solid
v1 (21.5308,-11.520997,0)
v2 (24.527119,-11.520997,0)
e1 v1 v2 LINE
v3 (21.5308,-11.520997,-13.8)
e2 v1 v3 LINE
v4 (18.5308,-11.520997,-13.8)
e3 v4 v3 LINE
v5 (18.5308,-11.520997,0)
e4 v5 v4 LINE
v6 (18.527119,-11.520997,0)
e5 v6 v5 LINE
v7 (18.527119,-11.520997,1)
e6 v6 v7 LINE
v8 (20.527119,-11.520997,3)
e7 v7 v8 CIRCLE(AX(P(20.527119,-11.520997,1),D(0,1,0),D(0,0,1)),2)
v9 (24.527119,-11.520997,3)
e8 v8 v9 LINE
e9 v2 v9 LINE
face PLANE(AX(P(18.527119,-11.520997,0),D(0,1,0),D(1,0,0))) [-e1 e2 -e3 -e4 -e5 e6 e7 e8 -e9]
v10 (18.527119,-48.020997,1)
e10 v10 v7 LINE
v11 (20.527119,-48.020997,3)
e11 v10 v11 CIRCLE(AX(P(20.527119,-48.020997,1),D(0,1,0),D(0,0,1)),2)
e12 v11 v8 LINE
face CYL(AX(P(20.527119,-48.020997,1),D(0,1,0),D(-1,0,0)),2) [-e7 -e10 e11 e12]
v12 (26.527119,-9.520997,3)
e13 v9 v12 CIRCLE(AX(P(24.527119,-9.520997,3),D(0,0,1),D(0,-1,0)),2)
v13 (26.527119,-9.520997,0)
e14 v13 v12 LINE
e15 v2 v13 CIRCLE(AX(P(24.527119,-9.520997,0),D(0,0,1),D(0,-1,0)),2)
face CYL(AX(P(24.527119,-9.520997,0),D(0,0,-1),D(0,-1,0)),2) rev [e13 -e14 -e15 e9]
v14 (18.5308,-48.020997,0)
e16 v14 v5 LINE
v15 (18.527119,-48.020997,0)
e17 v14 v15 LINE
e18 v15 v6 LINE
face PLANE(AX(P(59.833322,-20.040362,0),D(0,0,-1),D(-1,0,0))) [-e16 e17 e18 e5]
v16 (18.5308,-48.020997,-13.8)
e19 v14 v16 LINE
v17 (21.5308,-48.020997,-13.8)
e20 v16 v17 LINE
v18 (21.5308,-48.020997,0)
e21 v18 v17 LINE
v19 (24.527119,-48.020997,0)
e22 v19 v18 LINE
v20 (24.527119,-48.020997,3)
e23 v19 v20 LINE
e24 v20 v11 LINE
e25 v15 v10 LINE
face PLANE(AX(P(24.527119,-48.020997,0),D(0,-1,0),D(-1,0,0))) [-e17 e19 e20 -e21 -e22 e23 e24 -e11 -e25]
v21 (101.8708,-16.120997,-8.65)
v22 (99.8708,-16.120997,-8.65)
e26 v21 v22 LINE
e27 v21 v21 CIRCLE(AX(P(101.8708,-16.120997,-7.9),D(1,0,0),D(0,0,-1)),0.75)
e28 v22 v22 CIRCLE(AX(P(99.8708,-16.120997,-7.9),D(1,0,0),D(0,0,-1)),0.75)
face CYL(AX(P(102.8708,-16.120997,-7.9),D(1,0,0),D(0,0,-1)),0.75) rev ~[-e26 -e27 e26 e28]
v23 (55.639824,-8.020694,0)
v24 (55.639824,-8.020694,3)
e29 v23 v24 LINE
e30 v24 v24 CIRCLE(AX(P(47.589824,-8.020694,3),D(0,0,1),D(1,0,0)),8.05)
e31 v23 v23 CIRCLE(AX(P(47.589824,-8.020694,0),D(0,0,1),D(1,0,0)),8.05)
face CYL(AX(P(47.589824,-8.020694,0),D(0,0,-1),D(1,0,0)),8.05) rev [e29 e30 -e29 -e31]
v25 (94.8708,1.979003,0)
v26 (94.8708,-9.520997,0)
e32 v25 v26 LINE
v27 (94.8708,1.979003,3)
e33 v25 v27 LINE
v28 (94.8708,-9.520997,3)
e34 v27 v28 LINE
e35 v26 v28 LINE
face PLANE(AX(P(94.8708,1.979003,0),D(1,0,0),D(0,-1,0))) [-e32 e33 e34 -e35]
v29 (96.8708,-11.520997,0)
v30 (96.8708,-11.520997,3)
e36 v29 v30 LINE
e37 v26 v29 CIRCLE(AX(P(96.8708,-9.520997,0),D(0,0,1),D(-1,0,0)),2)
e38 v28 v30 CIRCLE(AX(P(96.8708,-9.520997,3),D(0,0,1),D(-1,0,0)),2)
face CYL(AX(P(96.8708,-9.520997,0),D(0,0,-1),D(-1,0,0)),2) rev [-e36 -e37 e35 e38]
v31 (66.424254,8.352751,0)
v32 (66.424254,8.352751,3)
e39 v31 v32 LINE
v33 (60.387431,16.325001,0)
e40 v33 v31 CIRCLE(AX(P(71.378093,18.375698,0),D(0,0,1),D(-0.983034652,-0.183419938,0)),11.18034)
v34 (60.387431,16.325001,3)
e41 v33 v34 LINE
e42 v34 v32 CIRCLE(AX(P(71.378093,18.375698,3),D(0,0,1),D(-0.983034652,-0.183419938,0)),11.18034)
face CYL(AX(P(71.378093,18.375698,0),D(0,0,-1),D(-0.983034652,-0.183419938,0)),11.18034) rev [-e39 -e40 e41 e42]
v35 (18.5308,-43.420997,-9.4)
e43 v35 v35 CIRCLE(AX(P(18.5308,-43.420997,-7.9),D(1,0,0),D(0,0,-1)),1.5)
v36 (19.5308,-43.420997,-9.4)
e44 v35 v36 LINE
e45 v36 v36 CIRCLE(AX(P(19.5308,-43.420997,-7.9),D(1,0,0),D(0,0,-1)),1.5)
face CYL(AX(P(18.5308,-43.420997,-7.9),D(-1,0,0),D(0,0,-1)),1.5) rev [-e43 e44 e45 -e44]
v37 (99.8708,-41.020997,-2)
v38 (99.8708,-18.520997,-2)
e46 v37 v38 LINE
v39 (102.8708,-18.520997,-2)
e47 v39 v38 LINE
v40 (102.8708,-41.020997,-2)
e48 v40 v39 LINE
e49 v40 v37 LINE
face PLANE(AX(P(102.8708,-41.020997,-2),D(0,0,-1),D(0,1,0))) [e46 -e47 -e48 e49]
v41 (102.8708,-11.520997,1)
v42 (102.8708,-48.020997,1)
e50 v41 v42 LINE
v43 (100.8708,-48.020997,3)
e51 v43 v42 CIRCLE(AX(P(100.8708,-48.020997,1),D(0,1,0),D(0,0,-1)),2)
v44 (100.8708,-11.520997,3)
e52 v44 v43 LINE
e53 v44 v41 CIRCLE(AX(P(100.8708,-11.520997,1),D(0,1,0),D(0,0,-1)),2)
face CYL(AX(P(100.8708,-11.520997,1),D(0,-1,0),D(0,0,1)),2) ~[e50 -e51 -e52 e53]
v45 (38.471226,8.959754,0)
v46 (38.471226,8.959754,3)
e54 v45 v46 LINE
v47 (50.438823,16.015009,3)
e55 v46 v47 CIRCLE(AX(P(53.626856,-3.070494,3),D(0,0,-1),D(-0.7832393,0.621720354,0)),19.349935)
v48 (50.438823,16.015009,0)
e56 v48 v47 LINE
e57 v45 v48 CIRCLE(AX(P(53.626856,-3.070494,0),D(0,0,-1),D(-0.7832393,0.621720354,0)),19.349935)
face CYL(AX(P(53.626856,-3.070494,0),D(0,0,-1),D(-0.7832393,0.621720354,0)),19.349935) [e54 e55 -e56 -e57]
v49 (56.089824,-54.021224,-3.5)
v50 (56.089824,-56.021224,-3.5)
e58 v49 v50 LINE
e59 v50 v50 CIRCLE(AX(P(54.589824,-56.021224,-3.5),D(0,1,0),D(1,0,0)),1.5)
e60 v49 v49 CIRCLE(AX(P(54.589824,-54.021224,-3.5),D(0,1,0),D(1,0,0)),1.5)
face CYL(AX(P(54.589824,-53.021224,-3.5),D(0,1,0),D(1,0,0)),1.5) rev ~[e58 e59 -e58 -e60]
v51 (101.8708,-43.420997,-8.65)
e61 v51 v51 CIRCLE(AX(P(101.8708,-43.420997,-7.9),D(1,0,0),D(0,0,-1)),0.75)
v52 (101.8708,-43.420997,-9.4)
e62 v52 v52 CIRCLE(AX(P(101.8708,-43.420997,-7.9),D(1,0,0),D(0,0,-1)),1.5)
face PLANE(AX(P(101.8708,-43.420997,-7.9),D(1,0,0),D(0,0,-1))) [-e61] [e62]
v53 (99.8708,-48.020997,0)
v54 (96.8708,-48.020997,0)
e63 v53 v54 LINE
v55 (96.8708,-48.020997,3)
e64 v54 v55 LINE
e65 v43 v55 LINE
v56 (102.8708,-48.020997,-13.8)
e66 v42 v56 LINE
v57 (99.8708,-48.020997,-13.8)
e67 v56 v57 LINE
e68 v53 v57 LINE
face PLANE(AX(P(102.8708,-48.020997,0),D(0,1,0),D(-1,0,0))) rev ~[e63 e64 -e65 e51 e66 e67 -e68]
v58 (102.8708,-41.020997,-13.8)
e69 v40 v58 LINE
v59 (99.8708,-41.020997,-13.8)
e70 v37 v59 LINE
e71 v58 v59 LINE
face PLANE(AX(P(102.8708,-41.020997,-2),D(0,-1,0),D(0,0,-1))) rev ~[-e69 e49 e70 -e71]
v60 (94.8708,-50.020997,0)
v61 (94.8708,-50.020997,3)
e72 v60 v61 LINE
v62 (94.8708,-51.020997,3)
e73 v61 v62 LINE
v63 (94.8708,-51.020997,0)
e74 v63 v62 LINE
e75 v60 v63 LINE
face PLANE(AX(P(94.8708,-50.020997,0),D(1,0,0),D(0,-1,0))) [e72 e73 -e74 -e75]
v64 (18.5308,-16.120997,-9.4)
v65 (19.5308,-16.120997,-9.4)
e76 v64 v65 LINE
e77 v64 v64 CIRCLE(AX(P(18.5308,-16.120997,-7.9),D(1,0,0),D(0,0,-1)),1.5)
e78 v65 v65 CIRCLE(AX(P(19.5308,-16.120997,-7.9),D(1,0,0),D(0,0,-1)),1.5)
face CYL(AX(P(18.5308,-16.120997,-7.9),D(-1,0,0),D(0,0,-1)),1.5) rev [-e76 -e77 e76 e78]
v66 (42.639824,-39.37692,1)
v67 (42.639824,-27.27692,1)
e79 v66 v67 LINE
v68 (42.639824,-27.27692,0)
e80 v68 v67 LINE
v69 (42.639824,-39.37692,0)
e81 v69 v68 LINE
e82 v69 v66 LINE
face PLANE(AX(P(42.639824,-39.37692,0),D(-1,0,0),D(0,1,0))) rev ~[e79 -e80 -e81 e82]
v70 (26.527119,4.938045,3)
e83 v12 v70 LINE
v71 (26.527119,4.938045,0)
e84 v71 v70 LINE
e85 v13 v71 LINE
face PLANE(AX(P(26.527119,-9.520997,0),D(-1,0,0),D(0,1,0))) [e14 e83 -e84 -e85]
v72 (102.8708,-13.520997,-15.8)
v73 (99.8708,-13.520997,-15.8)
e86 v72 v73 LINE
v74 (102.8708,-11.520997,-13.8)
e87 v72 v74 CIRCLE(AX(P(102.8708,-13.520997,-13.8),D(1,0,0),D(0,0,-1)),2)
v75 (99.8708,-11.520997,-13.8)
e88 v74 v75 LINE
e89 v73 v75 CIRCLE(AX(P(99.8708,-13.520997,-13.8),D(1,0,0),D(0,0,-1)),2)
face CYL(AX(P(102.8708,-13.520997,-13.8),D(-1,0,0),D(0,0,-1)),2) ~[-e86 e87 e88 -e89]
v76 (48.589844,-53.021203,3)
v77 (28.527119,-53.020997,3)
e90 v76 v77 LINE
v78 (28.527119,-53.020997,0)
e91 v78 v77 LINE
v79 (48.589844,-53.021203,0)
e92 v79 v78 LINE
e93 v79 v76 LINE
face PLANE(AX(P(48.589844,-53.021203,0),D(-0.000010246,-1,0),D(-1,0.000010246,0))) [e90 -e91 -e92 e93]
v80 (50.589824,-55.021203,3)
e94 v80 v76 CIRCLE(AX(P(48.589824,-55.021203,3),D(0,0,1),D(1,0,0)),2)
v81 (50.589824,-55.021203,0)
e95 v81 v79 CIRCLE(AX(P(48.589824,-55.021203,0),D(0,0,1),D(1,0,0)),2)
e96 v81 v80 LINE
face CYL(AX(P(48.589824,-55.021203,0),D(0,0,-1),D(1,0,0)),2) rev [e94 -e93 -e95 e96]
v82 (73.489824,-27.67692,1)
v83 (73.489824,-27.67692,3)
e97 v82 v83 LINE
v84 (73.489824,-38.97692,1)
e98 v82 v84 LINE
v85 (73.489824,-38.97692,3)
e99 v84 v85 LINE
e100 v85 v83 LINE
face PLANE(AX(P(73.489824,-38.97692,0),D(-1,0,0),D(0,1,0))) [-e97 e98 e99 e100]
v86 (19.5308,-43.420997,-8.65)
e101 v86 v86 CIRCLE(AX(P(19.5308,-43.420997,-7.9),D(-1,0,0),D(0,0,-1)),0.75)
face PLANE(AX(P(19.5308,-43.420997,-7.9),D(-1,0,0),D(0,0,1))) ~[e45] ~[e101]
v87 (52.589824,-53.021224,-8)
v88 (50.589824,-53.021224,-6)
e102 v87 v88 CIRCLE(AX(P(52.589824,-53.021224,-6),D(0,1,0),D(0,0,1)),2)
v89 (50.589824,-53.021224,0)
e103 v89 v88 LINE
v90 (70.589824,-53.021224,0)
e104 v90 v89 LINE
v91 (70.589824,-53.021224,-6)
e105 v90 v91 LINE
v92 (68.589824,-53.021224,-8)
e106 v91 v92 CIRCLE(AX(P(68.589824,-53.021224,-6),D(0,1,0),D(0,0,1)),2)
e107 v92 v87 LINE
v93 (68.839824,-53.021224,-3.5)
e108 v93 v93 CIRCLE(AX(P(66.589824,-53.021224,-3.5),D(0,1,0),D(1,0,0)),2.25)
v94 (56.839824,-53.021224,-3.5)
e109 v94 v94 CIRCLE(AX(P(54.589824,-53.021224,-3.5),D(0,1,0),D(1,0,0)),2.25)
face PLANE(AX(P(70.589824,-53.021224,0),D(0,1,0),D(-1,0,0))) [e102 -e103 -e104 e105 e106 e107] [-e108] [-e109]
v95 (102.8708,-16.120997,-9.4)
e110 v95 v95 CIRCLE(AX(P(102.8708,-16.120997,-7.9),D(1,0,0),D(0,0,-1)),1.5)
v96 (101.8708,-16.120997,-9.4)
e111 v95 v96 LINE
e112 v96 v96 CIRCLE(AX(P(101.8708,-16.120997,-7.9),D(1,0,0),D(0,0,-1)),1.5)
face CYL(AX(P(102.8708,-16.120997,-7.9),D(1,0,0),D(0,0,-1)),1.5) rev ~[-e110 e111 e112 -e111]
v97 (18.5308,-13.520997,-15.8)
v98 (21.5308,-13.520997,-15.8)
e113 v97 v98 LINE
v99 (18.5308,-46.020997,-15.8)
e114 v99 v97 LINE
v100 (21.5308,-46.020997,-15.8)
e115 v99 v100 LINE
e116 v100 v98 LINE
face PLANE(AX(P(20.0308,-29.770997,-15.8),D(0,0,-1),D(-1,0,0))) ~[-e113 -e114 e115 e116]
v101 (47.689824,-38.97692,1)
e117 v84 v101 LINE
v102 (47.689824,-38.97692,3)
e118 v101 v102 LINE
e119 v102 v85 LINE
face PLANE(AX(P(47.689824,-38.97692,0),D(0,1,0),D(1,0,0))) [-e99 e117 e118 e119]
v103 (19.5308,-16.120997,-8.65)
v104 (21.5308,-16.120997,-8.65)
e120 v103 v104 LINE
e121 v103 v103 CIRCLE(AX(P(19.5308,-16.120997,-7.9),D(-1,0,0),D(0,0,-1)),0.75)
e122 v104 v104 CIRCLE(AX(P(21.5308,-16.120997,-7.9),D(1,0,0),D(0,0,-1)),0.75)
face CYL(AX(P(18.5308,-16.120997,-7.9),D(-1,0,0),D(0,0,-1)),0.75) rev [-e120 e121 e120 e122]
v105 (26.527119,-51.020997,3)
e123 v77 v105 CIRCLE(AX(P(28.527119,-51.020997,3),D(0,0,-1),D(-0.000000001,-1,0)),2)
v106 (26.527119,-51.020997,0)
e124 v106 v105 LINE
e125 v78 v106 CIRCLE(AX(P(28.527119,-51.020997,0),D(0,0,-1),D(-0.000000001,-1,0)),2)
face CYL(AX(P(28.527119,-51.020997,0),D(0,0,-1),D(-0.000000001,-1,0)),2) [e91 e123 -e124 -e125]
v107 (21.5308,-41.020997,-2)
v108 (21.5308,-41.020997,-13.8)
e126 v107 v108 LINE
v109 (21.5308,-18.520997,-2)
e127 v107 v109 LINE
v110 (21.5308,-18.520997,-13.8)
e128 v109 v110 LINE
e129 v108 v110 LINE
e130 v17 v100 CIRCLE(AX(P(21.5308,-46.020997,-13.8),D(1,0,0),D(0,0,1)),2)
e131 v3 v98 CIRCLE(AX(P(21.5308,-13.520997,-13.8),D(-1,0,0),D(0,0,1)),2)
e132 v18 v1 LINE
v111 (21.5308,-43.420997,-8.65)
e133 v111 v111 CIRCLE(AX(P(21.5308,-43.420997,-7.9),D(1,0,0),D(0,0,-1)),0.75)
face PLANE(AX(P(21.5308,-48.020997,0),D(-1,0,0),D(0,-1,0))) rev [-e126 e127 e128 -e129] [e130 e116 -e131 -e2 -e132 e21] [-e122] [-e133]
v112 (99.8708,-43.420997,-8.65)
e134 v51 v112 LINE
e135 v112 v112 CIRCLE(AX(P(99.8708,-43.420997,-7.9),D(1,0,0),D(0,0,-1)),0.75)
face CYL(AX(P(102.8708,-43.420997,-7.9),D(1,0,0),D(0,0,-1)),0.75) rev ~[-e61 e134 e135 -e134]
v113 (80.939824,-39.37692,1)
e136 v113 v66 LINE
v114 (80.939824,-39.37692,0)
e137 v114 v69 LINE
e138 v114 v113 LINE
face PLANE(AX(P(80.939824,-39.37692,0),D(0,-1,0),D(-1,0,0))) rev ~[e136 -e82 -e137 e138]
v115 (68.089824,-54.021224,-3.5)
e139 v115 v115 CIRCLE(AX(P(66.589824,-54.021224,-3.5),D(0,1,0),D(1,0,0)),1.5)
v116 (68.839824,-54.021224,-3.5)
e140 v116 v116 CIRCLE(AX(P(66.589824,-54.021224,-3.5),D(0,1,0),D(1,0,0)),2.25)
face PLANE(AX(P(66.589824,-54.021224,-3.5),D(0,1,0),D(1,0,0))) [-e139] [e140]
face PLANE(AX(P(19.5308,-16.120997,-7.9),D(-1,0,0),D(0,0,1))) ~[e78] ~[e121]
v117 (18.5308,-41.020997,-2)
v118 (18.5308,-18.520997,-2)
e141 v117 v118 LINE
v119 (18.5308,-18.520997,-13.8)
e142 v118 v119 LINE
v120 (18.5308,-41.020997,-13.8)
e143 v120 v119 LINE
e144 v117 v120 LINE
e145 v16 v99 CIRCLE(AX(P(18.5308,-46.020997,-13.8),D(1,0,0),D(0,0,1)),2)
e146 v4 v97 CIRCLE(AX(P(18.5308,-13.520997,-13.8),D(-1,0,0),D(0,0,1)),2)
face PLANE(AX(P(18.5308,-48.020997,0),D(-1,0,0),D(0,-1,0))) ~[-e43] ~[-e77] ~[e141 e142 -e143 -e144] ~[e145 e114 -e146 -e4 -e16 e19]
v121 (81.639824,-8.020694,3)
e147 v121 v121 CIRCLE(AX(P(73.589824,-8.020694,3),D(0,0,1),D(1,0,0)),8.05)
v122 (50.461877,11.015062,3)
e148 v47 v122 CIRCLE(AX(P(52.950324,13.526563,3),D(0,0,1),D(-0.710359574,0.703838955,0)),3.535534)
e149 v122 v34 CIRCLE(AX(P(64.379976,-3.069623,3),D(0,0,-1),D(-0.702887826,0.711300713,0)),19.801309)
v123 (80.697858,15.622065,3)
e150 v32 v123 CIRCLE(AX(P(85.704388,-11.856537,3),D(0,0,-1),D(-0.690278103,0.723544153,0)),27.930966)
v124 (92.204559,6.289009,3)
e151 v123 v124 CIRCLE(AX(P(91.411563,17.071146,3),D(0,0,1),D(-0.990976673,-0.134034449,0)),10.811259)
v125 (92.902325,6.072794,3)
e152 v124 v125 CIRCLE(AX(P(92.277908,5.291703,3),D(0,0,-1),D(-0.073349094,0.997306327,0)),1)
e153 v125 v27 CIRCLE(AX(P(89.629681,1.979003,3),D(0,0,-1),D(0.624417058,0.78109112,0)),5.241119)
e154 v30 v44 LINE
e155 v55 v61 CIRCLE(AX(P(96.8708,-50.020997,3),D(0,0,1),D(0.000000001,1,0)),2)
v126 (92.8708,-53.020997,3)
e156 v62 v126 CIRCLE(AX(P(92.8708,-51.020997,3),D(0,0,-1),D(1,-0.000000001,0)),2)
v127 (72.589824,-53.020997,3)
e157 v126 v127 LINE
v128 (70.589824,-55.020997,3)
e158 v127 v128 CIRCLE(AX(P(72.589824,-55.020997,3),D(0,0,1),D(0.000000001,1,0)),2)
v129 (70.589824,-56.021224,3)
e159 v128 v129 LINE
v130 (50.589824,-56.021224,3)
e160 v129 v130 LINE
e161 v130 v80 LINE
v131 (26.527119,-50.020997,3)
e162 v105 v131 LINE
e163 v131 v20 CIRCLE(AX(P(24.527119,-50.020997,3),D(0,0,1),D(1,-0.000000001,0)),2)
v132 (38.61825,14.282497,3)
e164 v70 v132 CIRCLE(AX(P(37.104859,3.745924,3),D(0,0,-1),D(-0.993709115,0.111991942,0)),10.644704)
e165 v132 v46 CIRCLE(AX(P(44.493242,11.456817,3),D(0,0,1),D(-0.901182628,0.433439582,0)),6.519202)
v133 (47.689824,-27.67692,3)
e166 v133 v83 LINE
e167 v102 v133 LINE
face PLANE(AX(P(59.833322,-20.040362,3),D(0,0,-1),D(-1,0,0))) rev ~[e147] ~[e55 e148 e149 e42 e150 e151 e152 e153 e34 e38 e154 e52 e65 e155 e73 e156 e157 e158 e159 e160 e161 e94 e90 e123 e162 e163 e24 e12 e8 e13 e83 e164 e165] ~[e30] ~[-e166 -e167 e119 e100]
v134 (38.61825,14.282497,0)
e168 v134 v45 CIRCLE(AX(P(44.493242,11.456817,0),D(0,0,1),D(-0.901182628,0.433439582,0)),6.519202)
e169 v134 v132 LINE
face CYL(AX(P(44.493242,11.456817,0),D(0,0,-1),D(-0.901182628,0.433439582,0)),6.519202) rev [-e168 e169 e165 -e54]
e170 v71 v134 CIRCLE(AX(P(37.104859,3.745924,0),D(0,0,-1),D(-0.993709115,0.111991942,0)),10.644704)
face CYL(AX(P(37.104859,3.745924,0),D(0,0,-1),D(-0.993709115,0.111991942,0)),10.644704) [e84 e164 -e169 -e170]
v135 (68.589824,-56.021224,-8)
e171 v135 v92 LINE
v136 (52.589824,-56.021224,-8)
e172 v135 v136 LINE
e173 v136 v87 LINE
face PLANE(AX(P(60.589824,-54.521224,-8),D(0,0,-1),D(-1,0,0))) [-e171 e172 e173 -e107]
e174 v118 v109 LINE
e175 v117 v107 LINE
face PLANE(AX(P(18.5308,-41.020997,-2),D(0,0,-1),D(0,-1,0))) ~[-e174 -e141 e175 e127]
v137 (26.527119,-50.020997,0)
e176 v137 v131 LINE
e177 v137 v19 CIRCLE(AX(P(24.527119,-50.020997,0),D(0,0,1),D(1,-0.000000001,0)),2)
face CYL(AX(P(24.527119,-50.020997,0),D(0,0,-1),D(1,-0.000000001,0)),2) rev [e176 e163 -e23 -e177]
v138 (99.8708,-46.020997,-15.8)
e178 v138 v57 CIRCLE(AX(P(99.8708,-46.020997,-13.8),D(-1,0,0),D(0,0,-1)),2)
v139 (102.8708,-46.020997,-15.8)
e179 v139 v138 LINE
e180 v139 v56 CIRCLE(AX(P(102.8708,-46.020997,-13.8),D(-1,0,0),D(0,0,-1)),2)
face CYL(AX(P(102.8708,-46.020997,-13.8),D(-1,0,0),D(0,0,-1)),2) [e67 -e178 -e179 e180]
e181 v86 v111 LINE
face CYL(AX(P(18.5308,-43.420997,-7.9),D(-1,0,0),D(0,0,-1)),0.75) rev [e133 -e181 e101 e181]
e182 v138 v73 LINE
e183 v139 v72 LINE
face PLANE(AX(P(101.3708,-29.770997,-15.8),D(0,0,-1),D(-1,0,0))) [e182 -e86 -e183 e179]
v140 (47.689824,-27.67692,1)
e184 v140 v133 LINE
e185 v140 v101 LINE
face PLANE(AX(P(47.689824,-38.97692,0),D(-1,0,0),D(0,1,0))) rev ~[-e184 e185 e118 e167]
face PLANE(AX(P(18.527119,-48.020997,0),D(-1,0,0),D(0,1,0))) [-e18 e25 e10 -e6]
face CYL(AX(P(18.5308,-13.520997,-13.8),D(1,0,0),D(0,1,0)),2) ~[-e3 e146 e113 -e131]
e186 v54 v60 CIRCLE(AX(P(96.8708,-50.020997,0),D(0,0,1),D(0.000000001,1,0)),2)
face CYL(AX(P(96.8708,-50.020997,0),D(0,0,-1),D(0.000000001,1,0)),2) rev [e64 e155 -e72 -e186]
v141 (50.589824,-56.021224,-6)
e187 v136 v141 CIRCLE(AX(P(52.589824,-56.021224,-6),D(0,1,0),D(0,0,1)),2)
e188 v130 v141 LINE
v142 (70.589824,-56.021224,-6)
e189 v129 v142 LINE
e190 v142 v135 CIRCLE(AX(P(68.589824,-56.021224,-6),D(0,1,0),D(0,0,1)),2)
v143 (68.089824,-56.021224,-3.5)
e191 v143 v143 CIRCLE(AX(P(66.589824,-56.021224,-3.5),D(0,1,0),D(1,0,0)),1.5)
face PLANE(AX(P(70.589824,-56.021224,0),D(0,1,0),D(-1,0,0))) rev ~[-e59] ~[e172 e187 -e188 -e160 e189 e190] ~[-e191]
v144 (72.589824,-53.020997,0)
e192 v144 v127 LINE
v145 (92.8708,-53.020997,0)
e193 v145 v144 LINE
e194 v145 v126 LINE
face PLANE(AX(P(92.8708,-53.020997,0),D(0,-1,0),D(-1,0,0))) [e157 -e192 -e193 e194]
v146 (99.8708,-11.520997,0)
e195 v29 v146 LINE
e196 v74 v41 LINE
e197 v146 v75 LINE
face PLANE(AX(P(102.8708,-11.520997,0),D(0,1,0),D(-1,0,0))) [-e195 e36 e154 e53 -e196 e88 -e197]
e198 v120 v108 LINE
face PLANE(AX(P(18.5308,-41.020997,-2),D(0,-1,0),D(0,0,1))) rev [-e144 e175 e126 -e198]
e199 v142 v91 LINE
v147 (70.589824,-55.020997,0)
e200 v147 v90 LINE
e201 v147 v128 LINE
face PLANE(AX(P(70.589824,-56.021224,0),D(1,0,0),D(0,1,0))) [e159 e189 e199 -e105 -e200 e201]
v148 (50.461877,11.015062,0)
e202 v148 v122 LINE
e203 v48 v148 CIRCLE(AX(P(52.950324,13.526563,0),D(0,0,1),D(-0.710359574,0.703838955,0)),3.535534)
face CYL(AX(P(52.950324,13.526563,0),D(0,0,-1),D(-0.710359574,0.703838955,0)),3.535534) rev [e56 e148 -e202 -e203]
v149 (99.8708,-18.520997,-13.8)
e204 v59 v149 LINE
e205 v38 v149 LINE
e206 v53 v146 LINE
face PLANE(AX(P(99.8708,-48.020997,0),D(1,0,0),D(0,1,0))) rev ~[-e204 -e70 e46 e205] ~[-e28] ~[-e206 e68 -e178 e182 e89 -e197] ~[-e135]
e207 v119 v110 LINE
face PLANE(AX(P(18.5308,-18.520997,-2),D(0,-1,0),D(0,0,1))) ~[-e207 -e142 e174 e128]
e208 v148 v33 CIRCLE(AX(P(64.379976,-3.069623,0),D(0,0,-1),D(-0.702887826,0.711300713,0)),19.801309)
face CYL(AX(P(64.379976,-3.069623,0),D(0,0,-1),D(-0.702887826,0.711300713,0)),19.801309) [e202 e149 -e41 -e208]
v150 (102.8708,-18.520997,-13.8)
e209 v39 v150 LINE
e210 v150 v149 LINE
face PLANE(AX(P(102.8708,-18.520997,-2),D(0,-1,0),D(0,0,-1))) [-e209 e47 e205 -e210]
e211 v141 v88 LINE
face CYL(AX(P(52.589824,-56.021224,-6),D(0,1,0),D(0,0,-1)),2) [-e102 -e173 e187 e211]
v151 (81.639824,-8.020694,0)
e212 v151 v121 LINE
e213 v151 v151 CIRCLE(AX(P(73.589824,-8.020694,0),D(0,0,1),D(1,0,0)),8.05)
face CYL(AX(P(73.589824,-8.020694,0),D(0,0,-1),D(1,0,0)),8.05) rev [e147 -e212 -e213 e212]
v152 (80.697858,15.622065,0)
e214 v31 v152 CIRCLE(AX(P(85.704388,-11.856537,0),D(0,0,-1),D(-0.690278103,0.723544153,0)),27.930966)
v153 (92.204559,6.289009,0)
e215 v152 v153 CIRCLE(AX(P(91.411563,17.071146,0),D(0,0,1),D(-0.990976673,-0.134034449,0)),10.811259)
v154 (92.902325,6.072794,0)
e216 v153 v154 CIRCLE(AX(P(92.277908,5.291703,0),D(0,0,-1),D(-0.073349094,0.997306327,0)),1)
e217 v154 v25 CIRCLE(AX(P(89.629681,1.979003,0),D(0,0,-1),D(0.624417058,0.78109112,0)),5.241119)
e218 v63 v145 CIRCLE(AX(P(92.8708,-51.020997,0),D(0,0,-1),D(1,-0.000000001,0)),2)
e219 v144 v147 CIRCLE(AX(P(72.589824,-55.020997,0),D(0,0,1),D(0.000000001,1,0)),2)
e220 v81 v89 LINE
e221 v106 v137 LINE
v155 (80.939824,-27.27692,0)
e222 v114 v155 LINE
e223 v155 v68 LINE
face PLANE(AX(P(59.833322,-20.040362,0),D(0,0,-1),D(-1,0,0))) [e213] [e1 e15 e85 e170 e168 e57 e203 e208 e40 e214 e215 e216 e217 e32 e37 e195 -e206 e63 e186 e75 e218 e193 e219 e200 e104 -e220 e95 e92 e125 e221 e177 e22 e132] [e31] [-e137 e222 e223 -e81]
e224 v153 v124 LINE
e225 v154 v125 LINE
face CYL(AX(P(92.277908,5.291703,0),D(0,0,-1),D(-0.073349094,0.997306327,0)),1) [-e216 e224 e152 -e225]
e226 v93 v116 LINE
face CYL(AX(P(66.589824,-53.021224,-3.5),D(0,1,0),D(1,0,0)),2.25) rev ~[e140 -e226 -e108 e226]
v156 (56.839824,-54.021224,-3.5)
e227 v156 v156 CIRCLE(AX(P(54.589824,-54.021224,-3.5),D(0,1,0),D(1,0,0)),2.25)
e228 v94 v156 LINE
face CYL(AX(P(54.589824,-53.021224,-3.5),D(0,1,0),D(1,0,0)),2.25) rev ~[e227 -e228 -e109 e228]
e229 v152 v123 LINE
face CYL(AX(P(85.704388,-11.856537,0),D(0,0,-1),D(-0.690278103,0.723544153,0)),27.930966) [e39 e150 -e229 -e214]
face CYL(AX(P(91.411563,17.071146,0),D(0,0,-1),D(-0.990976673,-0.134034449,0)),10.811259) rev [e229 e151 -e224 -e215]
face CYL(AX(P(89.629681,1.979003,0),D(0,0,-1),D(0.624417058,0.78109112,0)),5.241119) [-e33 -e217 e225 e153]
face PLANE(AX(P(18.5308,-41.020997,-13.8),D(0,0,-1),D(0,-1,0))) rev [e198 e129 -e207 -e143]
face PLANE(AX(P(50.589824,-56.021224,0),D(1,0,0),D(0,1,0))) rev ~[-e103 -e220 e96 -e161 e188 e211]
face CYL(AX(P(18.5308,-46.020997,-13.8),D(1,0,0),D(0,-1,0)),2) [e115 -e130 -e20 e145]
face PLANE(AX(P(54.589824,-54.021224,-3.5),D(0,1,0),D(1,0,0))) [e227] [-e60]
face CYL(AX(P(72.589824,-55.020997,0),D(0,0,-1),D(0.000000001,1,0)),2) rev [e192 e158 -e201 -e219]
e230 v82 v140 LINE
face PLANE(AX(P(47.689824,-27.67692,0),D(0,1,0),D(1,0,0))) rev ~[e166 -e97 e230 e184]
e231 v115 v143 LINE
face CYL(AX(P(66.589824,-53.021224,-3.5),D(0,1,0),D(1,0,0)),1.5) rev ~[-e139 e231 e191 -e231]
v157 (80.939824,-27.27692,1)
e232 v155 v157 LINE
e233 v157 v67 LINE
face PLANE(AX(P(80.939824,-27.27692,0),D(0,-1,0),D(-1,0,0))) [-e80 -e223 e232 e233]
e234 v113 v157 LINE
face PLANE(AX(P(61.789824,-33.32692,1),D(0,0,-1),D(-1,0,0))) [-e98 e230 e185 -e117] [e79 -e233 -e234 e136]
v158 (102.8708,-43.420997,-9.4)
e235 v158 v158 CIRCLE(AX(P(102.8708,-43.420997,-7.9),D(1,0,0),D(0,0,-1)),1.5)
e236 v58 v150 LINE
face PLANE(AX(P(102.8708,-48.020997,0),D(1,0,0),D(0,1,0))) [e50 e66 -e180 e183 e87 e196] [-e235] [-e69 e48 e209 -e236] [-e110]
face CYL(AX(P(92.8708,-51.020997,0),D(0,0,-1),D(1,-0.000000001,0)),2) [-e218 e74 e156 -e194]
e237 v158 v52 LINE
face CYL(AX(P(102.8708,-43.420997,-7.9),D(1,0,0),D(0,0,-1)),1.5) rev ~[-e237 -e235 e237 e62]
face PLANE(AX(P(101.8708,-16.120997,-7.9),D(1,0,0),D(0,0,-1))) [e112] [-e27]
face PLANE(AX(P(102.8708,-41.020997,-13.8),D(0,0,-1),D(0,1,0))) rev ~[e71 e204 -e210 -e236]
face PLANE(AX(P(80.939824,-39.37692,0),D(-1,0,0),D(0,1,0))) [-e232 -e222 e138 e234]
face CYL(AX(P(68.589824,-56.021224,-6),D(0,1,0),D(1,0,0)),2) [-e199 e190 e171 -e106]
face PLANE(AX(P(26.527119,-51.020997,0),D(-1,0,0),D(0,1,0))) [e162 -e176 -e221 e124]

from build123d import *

# Parameters (mm, degrees)
MODEL_R                  = 8.05
MODEL_W                  = 25.8
MODEL_H                  = 11.3
SALIENTE_EXTRUIR1_DEPTH  = 3
CROQUIS2_W               = 38.3
CROQUIS2_H               = 12.1
CORTAR_EXTRUIR1_DEPTH    = 1
CROQUIS3_W               = 3
CROQUIS3_H               = 36.5
SALIENTE_EXTRUIR2_DEPTH  = 15.8
CROQUIS4_R               = 0.75
CROQUIS4_W               = 11.8
CROQUIS4_H               = 22.5
CORTAR_EXTRUIR2_DEPTH    = 3
CROQUIS5_R               = 1.5
CORTAR_EXTRUIR3_DEPTH    = 1
REDONDEO1_R              = 2
REDONDEO1_OF_SIMETR_A1_R = 2
REDONDEO2_R              = 2
CROQUIS6_W               = 20
CROQUIS6_H               = 3
SALIENTE_EXTRUIR3_DEPTH  = 8
CROQUIS7_R               = 1.5
CORTAR_EXTRUIR4_DEPTH    = 3
CROQUIS8_R               = 2.25
CORTAR_EXTRUIR5_DEPTH    = 1
REDONDEO3_R              = 2


with BuildPart() as part:
    # Model → Saliente-Extruir1 (new body)
    with BuildSketch(Plane.XY):
        with BuildLine():
            Line((102.870799912, -11.520997464), (102.870799912, -48.020997464))
            Line((102.870799912, -48.020997464), (96.870799912, -48.020997464))
            ThreePointArc((96.870799912, -48.020997464), (95.456586349, -48.606783901), (94.870799912, -50.020997464))
            Line((94.870799912, -50.020997464), (94.870799912, -51.020997464))
            ThreePointArc((94.870799912, -51.020997464), (94.285013474, -52.435211026), (92.870799912, -53.020997464))
            Line((92.870799912, -53.020997464), (72.589823504, -53.020997464))
            ThreePointArc((72.589823504, -53.020997464), (71.175609941, -53.606783901), (70.589823504, -55.020997464))
            Line((70.589823504, -55.020997464), (70.589823504, -56.021223523))
            Line((70.589823504, -56.021223523), (50.589823504, -56.021223523))
            Line((50.589823504, -56.021223523), (50.589823504, -55.021203031))
            ThreePointArc((50.589823504, -55.021203031), (50.004044311, -53.606996713), (48.589843996, -53.021203031))
            Line((48.589843996, -53.021203031), (28.527119253, -53.020997464))
            ThreePointArc((28.527119253, -53.020997464), (27.112905691, -52.435211026), (26.527119253, -51.020997464))
            Line((26.527119253, -51.020997464), (26.527119253, -50.020997464))
            ThreePointArc((26.527119253, -50.020997464), (25.941332816, -48.606783901), (24.527119253, -48.020997464))
            Line((24.527119253, -48.020997464), (18.527119253, -48.020997464))
            Line((18.527119253, -48.020997464), (18.527119253, -11.520997464))
            Line((18.527119253, -11.520997464), (24.527119253, -11.520997464))
            ThreePointArc((24.527119253, -11.520997464), (25.941332816, -10.935211026), (26.527119253, -9.520997464))
            Line((26.527119253, -9.520997464), (26.527119253, 4.938044993))
            ThreePointArc((26.527119253, 4.938044993), (30.595611796, 12.168478816), (38.618250464, 14.282497178))
            ThreePointArc((38.618250464, 14.282497178), (37.976525569, 11.63682094), (38.471226177, 8.959754465))
            ThreePointArc((38.471226177, 8.959754465), (43.800023098, 13.598439583), (50.438823204, 16.015009344))
            ThreePointArc((50.438823204, 16.015009344), (49.41482724, 13.510261305), (50.461877073, 11.015062492))
            ThreePointArc((50.461877073, 11.015062492), (55.039384462, 14.390193601), (60.387431279, 16.325000863))
            ThreePointArc((60.387431279, 16.325000863), (62.464845981, 11.626325475), (66.424253692, 8.352750544))
            ThreePointArc((66.424253692, 8.352750544), (73.028771683, 13.03256979), (80.697857855, 15.622064598))
            ThreePointArc((80.697857855, 15.622064598), (84.601159243, 8.674615803), (92.204558947, 6.289009084))
            ThreePointArc((92.204558947, 6.289009084), (92.573891536, 6.246895811), (92.902325099, 6.072793877))
            ThreePointArc((92.902325099, 6.072793877), (94.353114302, 4.250236817), (94.870799912, 1.979002536))
            Line((94.870799912, 1.979002536), (94.870799912, -9.520997464))
            ThreePointArc((94.870799912, -9.520997464), (95.456586349, -10.935211026), (96.870799912, -11.520997464))
            Line((96.870799912, -11.520997464), (102.870799912, -11.520997464))
        make_face()
        with Locations((73.589823504, -8.020694487)):
            Circle(MODEL_R, mode=Mode.SUBTRACT)
        with Locations((47.589823504, -8.020694487)):
            Circle(MODEL_R, mode=Mode.SUBTRACT)
        with Locations((60.589823504, -33.326919867)):
            Rectangle(MODEL_W, MODEL_H, mode=Mode.SUBTRACT)
    extrude(amount=SALIENTE_EXTRUIR1_DEPTH)

    # Croquis2 → Cortar-Extruir1 (cut)
    with BuildSketch(Plane(origin=(0, 0, 0), x_dir=(-1, 0, 0), z_dir=(0, 0, -1))):
        with Locations((-61.789823504, -33.326919867)):
            Rectangle(CROQUIS2_W, CROQUIS2_H)
    extrude(amount=-CORTAR_EXTRUIR1_DEPTH, mode=Mode.SUBTRACT)

    # Croquis3 → Saliente-Extruir2 (add)
    with BuildSketch(Plane(origin=(0, 0, 0), x_dir=(-1, 0, 0), z_dir=(0, 0, -1))):
        with Locations((-101.370799912, -29.770997464)):
            Rectangle(CROQUIS3_W, CROQUIS3_H)
    saliente_extruir2 = extrude(amount=SALIENTE_EXTRUIR2_DEPTH)

    # Croquis4 → Cortar-Extruir2 (cut)
    with BuildSketch(Plane(origin=(102.870799912, 0, 0), x_dir=(0, 0, -1), z_dir=(1, 0, 0))):
        with Locations((7.9, -43.420997464)):
            Circle(CROQUIS4_R)
        with Locations((7.9, -16.120997464)):
            Circle(CROQUIS4_R)
        with Locations((7.9, -29.770997464)):
            Rectangle(CROQUIS4_W, CROQUIS4_H)
    cortar_extruir2 = extrude(amount=-CORTAR_EXTRUIR2_DEPTH, mode=Mode.SUBTRACT)

    # Croquis5 → Cortar-Extruir3 (cut)
    with BuildSketch(Plane(origin=(102.870799912, 0, 0), x_dir=(0, 0, -1), z_dir=(1, 0, 0))):
        with Locations((7.9, -16.120997464)):
            Circle(CROQUIS5_R)
        with Locations((7.9, -43.420997464)):
            Circle(CROQUIS5_R)
    cortar_extruir3 = extrude(amount=-CORTAR_EXTRUIR3_DEPTH, mode=Mode.SUBTRACT)

    # Redondeo1
    redondeo1_edges = [part.edges().sort_by_distance(p)[0] for p in [
        (101.370799912, -48.020997464, -15.8),
        (101.370799912, -11.520997464, -15.8),
    ]]
    fillet(redondeo1_edges, radius=REDONDEO1_R)

    # Simetría1: Saliente-Extruir2, Cortar-Extruir2, Cortar-Extruir3 across plane
    add(saliente_extruir2.mirror(Plane(origin=(60.700799912, 0, 0), x_dir=(0, 0, 1), z_dir=(1, 0, 0))))
    add(cortar_extruir2.mirror(Plane(origin=(60.700799912, 0, 0), x_dir=(0, 0, 1), z_dir=(1, 0, 0))), mode=Mode.SUBTRACT)
    add(cortar_extruir3.mirror(Plane(origin=(60.700799912, 0, 0), x_dir=(0, 0, 1), z_dir=(1, 0, 0))), mode=Mode.SUBTRACT)

    # Redondeo1 of Simetría1
    redondeo1_of_simetr_a1_edges = [part.edges().sort_by_distance(p)[0] for p in [
        (20.030799912, -48.020997464, -15.8),
        (20.030799912, -11.520997464, -15.8),
    ]]
    fillet(redondeo1_of_simetr_a1_edges, radius=REDONDEO1_OF_SIMETR_A1_R)

    # Redondeo2
    redondeo2_edges = [part.edges().sort_by_distance(p)[0] for p in [
        (18.527119253, -29.770997464, 3),
        (102.870799912, -29.770997464, 3),
    ]]
    fillet(redondeo2_edges, radius=REDONDEO2_R)

    # Croquis6 → Saliente-Extruir3 (add)
    with BuildSketch(Plane(origin=(0, 0, 0), x_dir=(-1, 0, 0), z_dir=(0, 0, -1))):
        with Locations((-60.589823504, -54.521223523)):
            Rectangle(CROQUIS6_W, CROQUIS6_H)
    extrude(amount=SALIENTE_EXTRUIR3_DEPTH)

    # Croquis7 → Cortar-Extruir4 (cut)
    with BuildSketch(Plane(origin=(0, -53.021223523, 0), x_dir=(1, 0, 0), z_dir=(0, 1, 0))):
        with Locations((66.589823504, 3.5)):
            Circle(CROQUIS7_R)
        with Locations((54.589823504, 3.5)):
            Circle(CROQUIS7_R)
    extrude(amount=-CORTAR_EXTRUIR4_DEPTH, mode=Mode.SUBTRACT)

    # Croquis8 → Cortar-Extruir5 (cut)
    with BuildSketch(Plane(origin=(0, -53.021223523, 0), x_dir=(1, 0, 0), z_dir=(0, 1, 0))):
        with Locations((66.589823504, 3.5)):
            Circle(CROQUIS8_R)
        with Locations((54.589823504, 3.5)):
            Circle(CROQUIS8_R)
    extrude(amount=-CORTAR_EXTRUIR5_DEPTH, mode=Mode.SUBTRACT)

    # Redondeo3
    redondeo3_edges = [part.edges().sort_by_distance(p)[0] for p in [
        (70.589823504, -54.521223523, -8),
        (50.589823504, -54.521223523, -8),
    ]]
    fillet(redondeo3_edges, radius=REDONDEO3_R)


solid = part.part
